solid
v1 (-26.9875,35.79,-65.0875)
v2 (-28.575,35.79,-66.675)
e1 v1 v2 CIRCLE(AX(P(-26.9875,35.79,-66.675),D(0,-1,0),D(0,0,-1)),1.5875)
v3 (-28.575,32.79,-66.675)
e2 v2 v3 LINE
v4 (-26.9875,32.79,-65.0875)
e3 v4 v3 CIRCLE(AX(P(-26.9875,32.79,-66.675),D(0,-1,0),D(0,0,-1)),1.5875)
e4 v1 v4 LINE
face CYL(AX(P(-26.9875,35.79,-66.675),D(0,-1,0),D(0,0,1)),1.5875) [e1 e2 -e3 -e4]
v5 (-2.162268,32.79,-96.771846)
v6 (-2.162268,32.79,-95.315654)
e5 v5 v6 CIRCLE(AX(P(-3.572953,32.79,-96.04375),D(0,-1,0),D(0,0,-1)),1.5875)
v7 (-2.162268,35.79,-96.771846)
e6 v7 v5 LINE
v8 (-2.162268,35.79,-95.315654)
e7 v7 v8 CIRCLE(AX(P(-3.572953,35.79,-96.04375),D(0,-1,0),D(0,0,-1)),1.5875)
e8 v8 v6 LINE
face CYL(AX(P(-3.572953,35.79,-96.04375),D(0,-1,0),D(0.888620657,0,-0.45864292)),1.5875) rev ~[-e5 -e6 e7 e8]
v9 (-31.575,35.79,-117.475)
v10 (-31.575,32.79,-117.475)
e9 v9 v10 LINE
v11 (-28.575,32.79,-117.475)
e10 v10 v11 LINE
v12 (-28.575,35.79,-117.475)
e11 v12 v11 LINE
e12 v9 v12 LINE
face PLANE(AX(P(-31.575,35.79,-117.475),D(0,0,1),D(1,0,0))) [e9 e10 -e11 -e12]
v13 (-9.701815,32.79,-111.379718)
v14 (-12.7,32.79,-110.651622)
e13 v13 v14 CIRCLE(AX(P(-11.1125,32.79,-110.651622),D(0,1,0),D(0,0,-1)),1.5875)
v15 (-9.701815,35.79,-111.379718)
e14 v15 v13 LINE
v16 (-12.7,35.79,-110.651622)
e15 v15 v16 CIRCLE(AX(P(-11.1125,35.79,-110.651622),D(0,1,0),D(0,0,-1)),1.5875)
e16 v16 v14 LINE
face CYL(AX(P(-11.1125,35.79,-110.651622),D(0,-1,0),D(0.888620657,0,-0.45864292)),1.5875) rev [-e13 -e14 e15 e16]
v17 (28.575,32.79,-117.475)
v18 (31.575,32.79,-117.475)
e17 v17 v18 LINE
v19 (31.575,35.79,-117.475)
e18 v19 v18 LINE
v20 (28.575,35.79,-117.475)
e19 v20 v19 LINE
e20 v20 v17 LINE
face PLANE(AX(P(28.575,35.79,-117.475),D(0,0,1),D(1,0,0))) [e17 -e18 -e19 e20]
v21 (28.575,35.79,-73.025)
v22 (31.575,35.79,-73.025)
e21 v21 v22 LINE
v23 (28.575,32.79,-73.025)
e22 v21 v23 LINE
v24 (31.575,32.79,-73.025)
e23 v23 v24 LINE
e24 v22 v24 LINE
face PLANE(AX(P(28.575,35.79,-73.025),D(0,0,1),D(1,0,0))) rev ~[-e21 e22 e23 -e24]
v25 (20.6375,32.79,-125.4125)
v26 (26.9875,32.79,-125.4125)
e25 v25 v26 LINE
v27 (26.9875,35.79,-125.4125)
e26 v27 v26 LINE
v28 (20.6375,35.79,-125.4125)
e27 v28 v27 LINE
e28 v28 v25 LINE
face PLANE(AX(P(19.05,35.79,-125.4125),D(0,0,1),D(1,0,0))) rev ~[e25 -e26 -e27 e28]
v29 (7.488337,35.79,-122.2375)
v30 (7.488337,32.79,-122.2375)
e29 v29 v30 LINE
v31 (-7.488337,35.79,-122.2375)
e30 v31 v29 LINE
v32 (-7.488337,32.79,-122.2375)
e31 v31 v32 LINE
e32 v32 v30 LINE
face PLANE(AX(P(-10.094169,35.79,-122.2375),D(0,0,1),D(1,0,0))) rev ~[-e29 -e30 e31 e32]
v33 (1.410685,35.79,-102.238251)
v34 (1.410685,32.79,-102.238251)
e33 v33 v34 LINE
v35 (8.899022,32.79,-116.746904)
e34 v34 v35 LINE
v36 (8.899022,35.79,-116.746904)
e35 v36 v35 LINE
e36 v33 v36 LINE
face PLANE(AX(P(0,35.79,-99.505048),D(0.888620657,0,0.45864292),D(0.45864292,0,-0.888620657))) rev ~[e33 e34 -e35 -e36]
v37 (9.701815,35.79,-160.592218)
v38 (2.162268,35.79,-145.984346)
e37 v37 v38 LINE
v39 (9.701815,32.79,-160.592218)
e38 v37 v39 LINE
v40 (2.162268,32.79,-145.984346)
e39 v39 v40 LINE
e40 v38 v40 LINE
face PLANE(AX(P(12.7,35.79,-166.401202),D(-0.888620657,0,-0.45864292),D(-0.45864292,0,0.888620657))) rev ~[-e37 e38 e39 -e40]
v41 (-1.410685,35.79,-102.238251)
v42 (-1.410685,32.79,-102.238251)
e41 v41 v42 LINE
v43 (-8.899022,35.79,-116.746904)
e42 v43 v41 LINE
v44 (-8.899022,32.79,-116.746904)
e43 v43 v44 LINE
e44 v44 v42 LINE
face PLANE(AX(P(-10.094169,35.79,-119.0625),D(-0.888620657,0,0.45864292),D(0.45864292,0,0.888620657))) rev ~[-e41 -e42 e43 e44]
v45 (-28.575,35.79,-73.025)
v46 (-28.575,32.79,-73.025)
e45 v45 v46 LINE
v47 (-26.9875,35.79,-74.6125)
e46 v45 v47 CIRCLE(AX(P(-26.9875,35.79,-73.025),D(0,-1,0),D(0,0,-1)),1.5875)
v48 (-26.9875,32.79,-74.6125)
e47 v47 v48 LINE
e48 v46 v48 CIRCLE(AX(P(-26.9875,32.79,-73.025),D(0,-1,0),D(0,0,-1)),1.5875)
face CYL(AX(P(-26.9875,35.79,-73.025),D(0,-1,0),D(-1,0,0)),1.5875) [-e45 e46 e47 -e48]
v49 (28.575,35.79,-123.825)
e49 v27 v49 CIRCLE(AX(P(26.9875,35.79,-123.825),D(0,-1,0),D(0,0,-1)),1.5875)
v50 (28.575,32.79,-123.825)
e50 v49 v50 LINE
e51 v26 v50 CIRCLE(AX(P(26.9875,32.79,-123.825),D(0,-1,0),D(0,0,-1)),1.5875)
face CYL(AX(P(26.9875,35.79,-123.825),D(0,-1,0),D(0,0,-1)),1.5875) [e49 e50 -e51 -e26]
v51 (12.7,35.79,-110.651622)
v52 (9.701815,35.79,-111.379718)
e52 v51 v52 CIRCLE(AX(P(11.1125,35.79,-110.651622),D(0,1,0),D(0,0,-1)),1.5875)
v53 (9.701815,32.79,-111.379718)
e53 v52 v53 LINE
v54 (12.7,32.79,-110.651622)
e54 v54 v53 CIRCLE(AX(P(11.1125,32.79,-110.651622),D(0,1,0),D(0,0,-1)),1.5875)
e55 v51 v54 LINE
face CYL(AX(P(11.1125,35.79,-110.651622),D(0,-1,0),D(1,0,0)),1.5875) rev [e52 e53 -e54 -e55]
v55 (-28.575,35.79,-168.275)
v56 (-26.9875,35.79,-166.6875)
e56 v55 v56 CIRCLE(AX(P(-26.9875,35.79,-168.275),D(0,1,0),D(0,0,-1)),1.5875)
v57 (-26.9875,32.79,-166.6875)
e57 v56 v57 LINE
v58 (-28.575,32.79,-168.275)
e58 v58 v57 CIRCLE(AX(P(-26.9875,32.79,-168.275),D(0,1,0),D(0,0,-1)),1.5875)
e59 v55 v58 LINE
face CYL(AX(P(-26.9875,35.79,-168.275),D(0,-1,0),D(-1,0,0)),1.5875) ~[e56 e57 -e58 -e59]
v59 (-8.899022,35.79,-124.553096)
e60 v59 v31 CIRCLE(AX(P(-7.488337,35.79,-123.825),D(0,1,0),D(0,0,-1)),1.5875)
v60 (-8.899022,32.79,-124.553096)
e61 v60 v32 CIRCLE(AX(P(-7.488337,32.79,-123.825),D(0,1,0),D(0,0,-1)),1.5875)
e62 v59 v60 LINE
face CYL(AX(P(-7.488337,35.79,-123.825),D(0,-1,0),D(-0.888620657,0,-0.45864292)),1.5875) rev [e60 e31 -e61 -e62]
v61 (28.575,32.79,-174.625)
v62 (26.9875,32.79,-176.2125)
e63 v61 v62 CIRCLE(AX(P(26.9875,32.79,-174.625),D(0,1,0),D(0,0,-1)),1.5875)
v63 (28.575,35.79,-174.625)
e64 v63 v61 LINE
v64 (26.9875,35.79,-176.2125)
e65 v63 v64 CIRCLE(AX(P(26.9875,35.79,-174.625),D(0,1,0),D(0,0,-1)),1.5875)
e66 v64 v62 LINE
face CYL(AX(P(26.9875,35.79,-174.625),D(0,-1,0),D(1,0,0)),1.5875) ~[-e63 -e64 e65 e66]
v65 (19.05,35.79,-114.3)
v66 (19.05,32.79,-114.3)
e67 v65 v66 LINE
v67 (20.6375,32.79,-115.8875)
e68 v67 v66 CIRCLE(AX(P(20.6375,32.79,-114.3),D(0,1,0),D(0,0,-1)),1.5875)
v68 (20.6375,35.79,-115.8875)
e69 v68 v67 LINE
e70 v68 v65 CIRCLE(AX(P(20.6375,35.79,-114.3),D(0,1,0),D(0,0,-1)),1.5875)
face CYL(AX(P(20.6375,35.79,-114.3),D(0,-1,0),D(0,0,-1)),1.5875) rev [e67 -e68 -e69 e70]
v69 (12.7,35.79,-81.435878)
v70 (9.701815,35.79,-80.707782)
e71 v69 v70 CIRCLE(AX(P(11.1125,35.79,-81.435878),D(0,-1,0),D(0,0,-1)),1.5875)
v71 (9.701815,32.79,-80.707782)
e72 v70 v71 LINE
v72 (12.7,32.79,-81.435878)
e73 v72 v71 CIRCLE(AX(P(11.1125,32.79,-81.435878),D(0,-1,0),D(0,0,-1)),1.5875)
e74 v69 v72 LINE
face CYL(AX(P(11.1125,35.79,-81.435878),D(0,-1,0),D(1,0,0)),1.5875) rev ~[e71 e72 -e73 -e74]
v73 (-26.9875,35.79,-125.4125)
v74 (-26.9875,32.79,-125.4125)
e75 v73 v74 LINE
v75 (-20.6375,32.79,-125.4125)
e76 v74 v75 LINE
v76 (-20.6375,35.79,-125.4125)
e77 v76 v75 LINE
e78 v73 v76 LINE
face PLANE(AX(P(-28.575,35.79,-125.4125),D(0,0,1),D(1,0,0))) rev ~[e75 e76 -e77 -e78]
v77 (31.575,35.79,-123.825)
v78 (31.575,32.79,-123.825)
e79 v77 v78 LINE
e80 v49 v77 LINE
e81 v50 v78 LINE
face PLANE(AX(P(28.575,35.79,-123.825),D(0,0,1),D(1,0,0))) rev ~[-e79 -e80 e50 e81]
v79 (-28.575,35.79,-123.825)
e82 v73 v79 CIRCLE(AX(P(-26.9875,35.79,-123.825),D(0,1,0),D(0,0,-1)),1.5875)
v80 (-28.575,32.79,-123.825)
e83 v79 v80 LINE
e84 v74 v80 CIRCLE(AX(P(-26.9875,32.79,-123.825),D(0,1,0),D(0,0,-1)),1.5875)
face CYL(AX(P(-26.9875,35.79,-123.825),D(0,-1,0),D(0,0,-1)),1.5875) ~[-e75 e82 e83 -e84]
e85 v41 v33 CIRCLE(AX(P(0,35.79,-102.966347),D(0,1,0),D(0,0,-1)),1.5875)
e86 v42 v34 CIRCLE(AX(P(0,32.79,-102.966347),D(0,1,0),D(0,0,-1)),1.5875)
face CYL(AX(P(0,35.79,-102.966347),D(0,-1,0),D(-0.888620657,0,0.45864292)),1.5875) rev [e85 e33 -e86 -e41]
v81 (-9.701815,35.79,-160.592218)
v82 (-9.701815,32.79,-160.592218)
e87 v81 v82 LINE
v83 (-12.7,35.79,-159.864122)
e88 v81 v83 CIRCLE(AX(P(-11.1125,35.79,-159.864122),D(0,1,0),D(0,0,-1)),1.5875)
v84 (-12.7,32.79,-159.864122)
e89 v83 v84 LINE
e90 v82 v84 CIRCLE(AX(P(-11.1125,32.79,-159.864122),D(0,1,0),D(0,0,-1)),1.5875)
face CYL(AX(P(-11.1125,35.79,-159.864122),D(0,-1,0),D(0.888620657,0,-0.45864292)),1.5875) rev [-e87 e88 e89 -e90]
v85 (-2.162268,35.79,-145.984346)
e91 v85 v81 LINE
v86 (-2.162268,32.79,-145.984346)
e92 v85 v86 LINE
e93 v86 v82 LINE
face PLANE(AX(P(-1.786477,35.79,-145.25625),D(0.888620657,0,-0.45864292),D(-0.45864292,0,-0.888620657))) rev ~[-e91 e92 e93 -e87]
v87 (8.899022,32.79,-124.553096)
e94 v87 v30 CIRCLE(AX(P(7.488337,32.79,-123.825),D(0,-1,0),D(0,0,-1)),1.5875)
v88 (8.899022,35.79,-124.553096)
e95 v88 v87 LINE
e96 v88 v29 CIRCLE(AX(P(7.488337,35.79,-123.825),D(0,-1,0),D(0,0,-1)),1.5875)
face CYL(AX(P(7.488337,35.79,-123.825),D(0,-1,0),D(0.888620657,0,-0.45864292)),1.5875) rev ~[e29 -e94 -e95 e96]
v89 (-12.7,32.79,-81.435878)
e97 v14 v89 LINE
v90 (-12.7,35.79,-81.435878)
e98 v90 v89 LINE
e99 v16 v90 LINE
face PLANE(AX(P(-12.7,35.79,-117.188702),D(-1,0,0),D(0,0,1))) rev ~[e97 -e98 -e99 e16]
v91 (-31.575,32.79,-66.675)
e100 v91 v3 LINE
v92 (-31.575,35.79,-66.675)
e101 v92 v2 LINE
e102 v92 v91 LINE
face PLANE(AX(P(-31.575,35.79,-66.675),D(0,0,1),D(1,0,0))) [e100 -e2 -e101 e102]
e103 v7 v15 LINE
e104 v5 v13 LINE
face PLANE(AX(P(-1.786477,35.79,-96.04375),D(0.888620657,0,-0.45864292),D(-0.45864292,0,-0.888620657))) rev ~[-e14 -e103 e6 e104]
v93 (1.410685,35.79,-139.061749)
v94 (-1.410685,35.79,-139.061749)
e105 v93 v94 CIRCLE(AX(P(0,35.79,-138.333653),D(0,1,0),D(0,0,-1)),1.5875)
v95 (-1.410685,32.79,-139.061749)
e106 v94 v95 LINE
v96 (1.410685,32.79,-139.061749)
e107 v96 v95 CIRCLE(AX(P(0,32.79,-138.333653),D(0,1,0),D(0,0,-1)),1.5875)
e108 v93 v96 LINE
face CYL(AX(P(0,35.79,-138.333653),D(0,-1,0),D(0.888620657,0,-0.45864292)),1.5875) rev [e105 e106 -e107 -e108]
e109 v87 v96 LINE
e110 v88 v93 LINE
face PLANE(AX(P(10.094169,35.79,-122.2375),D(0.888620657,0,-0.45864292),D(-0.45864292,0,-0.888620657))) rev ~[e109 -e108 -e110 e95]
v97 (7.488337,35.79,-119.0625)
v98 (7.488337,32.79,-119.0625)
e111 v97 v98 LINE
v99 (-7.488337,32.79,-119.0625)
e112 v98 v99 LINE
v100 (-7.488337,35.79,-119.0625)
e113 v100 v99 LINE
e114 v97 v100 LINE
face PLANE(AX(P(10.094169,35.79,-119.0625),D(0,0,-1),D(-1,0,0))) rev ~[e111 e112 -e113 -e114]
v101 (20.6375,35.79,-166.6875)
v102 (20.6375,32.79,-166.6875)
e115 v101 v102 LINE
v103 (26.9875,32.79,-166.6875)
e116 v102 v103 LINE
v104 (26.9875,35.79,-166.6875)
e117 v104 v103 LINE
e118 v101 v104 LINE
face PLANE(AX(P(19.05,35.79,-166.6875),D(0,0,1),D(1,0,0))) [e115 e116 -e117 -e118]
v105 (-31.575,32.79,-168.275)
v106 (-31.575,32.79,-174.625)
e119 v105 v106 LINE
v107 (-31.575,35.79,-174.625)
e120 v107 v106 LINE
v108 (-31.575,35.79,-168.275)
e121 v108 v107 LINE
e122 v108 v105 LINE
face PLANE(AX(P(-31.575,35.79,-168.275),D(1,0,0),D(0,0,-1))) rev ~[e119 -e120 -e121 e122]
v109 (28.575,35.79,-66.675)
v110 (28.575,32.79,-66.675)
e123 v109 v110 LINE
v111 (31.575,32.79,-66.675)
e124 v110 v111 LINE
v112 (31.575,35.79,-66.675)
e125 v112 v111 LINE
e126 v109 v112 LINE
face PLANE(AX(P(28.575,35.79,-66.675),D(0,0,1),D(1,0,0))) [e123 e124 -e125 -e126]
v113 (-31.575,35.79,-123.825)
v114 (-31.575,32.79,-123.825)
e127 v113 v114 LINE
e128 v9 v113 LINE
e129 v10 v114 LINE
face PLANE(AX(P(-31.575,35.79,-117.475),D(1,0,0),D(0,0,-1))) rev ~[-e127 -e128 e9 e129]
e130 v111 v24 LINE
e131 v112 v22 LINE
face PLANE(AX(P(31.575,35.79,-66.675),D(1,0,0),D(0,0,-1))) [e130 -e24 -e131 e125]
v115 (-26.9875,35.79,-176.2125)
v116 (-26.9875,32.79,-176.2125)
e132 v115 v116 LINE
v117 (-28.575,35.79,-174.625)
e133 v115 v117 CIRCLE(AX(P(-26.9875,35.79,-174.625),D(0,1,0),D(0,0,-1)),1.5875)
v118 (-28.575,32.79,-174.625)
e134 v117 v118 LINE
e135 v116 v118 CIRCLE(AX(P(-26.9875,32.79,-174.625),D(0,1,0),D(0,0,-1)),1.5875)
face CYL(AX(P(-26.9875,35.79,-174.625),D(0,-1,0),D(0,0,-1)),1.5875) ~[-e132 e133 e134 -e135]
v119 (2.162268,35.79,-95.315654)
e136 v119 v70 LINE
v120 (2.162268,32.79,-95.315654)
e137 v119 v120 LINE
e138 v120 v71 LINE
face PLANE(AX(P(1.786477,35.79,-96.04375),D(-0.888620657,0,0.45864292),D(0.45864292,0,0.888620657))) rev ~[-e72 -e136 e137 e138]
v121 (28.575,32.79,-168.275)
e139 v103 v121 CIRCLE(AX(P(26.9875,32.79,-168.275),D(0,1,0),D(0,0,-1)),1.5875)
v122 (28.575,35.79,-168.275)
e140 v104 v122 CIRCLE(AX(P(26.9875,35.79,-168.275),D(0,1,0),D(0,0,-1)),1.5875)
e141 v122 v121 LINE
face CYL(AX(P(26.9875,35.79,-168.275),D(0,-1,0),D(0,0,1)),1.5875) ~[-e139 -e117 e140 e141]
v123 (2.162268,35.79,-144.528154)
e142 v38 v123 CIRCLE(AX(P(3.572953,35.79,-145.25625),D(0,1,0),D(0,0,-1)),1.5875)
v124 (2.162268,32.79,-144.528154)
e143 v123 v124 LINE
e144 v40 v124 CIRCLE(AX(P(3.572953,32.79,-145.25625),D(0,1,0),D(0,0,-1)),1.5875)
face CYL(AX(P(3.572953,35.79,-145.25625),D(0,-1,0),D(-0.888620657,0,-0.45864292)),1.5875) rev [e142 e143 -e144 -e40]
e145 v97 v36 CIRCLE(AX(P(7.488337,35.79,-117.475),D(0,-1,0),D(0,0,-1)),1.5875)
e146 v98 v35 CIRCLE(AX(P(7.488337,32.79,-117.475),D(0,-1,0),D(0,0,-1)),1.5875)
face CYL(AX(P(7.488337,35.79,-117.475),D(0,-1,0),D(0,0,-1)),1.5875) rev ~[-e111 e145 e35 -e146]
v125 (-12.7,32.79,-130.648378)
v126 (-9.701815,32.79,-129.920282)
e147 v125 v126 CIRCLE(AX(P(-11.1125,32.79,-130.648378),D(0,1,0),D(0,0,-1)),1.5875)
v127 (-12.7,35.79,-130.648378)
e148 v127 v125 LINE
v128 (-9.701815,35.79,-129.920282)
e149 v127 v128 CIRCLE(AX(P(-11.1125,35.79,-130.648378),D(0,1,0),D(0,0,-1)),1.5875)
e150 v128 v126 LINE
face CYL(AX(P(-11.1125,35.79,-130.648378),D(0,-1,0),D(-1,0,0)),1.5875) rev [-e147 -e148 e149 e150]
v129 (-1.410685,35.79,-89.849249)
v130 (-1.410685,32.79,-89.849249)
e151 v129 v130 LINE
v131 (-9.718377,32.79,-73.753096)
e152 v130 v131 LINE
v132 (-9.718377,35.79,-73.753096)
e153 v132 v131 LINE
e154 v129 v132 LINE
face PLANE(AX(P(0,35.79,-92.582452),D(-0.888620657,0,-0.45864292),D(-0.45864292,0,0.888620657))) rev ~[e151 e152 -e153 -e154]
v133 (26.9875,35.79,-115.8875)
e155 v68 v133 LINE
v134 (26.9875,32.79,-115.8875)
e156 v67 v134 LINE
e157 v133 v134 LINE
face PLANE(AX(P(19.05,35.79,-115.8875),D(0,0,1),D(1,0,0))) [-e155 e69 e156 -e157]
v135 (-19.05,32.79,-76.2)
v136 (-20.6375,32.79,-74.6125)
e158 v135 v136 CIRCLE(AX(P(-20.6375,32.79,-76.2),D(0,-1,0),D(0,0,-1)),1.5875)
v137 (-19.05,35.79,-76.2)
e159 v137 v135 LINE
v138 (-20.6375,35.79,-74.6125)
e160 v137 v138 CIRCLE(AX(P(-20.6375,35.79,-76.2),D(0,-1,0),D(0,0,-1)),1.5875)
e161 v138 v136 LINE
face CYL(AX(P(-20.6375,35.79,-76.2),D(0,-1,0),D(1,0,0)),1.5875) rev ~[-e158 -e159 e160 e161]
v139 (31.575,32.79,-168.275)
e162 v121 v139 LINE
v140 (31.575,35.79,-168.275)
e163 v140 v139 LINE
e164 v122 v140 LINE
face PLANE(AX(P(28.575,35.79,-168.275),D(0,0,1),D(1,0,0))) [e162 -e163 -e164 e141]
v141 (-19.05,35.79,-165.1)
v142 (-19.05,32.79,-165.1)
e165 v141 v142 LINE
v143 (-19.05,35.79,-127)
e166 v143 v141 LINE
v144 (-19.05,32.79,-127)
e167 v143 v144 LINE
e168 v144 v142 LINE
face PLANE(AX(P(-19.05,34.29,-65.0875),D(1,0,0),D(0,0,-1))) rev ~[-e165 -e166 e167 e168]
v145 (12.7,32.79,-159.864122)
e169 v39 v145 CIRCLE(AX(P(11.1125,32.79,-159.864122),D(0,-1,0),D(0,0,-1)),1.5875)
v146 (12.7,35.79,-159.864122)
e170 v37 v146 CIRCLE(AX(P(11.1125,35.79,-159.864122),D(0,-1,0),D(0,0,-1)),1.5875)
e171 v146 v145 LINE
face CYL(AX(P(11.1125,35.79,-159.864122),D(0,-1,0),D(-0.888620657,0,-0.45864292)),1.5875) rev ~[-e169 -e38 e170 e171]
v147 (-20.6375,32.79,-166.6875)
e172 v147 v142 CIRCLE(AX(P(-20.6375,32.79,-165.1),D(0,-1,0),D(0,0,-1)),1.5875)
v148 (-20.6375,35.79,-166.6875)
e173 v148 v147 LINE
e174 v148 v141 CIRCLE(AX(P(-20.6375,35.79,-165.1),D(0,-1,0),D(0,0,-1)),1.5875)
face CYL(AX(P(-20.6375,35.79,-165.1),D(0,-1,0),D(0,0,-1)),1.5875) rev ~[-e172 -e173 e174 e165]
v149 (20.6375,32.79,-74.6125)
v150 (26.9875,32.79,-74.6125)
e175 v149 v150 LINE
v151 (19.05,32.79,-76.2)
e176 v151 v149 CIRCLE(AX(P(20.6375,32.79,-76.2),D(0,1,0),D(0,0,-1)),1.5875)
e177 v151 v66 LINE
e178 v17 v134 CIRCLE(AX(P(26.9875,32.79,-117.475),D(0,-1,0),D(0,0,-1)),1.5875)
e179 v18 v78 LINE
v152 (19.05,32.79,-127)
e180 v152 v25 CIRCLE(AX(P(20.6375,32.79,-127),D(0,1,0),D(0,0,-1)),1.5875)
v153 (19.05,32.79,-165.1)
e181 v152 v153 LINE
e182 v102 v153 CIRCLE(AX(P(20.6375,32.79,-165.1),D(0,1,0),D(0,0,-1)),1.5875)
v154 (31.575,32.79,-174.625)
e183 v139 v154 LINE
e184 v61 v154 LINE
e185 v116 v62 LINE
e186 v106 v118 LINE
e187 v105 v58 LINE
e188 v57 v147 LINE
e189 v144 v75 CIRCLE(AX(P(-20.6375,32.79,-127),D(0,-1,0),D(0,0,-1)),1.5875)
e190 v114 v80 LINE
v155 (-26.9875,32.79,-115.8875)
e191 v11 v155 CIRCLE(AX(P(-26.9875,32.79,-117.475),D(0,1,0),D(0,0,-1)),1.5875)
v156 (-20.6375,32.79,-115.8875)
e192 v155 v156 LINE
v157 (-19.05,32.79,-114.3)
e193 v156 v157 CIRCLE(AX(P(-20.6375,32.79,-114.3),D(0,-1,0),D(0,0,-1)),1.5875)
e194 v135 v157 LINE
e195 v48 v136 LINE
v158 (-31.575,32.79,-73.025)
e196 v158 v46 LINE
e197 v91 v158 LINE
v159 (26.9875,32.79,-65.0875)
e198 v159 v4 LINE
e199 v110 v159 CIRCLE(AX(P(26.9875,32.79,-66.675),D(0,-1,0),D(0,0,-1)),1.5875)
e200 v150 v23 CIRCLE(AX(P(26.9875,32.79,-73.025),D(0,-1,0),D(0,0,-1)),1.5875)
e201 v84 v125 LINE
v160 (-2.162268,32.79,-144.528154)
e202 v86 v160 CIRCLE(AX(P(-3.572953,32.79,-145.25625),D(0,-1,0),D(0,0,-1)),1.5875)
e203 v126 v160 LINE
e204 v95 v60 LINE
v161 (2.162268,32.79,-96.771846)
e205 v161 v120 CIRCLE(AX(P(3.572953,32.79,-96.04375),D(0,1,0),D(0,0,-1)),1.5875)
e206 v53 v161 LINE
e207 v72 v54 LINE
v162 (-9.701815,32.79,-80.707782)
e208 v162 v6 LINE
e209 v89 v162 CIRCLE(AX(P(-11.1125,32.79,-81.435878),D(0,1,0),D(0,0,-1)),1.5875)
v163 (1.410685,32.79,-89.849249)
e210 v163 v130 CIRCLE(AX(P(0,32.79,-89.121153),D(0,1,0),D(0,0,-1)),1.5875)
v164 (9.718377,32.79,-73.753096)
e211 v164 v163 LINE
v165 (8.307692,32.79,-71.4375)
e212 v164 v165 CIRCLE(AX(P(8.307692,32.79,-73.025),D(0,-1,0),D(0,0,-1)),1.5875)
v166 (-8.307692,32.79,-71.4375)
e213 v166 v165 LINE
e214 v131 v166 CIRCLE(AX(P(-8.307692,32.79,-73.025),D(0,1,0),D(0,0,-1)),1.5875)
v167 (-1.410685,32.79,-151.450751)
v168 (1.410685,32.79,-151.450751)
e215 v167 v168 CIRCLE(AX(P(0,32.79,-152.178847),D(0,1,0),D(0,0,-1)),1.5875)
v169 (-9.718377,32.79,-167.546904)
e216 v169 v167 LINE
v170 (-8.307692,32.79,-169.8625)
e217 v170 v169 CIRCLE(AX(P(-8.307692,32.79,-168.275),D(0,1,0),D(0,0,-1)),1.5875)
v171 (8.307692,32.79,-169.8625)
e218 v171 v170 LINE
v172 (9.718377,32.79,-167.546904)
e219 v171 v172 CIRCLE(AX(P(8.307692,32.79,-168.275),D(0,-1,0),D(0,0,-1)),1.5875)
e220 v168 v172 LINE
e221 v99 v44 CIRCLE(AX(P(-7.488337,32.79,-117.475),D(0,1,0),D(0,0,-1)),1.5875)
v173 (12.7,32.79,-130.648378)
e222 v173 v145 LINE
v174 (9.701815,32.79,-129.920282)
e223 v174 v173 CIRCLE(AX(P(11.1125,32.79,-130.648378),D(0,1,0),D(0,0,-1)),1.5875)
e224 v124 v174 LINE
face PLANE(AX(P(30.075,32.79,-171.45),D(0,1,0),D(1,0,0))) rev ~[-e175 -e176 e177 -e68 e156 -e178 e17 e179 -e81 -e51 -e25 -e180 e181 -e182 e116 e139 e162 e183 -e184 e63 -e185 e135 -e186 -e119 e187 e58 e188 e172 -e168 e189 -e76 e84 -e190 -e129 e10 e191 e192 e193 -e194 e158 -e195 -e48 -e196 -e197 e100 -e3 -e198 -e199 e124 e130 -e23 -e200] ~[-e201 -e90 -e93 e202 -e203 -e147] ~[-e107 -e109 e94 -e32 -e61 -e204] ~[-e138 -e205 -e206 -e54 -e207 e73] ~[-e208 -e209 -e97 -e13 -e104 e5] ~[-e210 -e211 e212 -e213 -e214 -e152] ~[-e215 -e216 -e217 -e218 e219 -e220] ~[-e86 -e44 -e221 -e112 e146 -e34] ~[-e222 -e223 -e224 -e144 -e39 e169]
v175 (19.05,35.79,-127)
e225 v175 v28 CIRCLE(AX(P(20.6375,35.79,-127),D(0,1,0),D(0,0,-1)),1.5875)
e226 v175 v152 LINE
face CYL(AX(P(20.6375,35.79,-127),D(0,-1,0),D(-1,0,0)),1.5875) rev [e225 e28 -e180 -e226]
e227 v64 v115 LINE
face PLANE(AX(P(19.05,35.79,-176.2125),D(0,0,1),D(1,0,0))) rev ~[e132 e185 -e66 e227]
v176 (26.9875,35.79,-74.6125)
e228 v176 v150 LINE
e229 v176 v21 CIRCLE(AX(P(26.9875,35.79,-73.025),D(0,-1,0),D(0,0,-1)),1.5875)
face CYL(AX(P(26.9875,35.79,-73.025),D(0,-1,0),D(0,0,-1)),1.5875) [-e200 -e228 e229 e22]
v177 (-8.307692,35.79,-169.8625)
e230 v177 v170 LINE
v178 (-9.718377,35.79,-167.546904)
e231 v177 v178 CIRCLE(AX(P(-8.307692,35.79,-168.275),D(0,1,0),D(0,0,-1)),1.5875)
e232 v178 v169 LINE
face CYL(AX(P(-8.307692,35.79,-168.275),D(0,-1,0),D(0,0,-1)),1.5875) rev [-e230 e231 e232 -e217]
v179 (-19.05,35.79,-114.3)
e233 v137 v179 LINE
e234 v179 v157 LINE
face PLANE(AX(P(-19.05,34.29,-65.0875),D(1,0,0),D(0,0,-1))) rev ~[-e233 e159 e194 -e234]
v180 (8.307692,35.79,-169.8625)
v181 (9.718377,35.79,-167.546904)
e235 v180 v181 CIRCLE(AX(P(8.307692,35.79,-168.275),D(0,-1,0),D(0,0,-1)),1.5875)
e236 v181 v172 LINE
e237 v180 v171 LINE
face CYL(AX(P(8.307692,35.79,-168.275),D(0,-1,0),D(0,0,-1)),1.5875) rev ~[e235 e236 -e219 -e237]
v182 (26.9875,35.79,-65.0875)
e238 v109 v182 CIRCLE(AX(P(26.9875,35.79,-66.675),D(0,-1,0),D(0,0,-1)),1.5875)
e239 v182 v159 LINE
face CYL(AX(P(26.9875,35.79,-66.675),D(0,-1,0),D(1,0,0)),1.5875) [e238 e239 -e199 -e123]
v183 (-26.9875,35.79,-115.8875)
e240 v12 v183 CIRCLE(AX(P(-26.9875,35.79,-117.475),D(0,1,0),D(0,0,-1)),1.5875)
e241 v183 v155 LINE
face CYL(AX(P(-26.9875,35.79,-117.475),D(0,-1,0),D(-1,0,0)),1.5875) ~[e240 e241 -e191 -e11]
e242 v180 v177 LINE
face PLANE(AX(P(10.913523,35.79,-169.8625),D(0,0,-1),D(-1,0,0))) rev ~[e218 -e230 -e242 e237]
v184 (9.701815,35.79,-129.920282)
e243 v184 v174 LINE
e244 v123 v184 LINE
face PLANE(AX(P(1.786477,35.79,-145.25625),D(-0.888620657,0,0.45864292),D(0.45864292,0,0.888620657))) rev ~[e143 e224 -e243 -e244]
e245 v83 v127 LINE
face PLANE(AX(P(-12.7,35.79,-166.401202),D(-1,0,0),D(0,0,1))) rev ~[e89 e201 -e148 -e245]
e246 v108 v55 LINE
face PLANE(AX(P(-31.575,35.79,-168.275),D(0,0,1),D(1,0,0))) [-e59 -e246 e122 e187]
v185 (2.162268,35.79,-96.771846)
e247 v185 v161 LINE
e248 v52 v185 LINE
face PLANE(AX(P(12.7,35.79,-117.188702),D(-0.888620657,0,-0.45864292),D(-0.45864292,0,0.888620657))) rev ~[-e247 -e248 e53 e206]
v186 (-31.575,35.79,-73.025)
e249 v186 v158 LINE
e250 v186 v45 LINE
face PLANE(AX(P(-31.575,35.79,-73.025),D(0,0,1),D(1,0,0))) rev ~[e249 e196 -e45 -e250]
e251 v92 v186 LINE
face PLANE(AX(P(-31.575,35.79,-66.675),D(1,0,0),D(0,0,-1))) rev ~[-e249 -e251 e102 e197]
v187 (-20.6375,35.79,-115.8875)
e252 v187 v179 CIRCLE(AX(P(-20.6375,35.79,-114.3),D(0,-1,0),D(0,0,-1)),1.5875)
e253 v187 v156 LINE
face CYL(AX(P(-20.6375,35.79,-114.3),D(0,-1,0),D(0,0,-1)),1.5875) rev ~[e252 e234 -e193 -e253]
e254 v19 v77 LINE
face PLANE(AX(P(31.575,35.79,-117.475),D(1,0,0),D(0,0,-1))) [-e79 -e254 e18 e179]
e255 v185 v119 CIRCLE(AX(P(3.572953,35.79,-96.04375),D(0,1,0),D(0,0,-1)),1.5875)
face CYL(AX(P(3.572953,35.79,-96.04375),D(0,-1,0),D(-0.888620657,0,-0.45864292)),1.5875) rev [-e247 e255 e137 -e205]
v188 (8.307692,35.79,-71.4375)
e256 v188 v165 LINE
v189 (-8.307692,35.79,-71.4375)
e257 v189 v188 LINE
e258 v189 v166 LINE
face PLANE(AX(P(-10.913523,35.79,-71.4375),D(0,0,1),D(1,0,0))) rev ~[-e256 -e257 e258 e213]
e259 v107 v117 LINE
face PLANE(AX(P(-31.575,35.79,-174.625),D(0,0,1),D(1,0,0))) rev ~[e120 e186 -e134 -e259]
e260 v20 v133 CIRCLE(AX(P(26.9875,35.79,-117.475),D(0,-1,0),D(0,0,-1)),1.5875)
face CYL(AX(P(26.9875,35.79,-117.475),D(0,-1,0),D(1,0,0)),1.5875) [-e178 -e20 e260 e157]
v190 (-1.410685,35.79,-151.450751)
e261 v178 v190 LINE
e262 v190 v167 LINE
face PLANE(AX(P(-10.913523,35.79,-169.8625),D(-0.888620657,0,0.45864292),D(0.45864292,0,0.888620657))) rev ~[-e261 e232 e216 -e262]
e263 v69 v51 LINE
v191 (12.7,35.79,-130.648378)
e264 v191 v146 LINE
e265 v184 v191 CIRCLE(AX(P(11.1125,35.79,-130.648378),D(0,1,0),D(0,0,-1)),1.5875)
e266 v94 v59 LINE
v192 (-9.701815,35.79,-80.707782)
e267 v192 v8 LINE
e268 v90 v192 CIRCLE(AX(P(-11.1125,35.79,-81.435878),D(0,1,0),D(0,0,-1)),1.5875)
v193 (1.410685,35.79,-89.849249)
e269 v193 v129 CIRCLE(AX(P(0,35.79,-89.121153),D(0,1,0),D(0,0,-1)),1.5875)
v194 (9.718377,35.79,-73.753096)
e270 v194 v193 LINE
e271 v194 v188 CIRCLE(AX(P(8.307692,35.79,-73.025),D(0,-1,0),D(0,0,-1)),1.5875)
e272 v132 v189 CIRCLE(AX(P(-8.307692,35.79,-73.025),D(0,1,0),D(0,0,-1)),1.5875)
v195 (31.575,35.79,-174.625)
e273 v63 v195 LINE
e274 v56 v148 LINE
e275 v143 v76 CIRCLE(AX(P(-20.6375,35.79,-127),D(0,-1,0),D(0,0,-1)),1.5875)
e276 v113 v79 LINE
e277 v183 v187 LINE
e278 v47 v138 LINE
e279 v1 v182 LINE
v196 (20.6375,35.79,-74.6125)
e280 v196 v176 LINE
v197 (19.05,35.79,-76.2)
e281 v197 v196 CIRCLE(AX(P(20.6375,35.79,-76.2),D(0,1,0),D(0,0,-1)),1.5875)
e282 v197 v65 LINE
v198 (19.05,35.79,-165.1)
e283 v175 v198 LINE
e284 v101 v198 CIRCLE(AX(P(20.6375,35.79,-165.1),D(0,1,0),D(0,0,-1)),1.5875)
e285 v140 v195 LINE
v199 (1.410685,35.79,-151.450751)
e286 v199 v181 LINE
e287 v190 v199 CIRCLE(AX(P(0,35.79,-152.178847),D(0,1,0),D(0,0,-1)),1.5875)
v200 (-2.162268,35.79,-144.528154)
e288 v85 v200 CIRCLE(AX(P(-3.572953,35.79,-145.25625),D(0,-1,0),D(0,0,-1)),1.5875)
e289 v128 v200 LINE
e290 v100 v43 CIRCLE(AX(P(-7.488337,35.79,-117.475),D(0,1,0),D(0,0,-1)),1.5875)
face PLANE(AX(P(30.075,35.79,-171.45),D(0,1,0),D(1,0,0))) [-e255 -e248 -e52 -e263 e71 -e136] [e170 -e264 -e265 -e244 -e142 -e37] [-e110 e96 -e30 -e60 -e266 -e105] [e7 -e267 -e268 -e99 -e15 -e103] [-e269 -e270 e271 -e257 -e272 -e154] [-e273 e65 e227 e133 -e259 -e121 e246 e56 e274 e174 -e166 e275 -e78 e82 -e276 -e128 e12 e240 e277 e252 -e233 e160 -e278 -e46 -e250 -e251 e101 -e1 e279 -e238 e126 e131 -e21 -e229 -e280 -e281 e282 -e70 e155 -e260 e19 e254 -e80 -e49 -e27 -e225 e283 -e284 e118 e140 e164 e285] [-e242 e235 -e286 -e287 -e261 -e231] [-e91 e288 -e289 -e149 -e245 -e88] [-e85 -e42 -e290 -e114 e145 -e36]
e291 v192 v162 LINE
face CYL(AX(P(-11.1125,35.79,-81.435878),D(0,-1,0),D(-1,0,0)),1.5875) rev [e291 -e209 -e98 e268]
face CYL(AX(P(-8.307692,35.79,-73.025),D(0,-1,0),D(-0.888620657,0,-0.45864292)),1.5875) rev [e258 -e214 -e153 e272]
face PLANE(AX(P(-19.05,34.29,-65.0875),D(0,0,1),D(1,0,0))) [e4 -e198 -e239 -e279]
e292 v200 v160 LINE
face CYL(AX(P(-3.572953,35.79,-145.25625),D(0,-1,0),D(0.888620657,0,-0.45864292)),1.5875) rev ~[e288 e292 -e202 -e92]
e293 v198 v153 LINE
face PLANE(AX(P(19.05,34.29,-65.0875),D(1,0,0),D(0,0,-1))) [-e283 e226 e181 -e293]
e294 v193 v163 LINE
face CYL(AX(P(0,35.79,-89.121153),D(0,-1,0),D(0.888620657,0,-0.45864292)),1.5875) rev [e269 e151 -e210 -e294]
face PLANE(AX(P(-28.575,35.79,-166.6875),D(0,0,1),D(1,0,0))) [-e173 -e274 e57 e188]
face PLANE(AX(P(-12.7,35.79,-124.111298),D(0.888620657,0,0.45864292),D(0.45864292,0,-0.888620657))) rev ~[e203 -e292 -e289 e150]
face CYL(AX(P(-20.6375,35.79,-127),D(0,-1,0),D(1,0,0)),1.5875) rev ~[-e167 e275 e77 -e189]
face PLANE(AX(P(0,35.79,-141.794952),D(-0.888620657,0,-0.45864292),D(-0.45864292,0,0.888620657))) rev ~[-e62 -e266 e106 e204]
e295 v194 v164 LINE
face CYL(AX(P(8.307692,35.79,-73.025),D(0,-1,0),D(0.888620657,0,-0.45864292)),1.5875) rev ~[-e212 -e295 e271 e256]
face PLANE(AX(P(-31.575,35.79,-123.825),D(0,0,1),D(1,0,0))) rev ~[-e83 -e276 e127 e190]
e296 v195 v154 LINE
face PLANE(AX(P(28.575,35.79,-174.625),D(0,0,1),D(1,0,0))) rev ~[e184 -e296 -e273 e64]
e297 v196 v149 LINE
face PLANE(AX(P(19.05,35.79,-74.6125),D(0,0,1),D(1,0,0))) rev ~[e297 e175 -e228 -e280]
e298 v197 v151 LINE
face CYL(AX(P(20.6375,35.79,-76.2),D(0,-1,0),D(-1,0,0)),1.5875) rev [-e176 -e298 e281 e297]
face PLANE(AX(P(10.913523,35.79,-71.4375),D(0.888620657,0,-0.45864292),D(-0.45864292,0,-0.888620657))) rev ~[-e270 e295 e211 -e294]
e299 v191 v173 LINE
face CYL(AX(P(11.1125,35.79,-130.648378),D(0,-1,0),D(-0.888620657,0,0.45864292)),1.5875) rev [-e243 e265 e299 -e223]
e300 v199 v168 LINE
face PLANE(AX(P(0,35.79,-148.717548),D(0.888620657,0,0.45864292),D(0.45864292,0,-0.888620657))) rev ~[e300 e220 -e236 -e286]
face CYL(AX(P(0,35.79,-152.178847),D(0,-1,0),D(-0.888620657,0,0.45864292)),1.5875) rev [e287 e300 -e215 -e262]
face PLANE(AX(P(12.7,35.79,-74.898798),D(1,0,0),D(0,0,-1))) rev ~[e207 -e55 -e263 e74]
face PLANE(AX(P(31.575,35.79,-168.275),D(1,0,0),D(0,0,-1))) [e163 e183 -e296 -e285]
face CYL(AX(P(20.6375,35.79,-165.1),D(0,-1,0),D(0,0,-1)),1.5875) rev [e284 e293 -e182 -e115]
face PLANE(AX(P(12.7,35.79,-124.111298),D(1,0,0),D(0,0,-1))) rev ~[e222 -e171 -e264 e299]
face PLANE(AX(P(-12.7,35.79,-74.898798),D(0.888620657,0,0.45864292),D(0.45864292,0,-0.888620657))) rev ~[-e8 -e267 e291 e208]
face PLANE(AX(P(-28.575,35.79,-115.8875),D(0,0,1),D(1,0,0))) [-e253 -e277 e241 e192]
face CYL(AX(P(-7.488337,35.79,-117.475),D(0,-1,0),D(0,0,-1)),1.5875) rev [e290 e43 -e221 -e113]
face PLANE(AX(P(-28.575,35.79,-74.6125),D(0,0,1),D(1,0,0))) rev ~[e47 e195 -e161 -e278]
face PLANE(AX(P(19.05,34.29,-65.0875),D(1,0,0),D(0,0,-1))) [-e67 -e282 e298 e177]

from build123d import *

# Parameters (mm, degrees)
SKETCH1_W           = 38.1
SKETCH1_H           = 111.125
BOSS_EXTRUDE1_DEPTH = 1.5
SKETCH2_W           = 9.525
SKETCH2_H           = 9.525
BOSS_EXTRUDE2_DEPTH = 3
CUT_EXTRUDE1_DEPTH  = 3
FILLET1_R           = 1.5875
SKETCH5_W           = 3
SKETCH5_H           = 6.35
BOSS_EXTRUDE3_DEPTH = 3


with BuildPart() as part:
    # Sketch1 → Boss-Extrude1 (new, symmetric)
    with BuildSketch(Plane(origin=(0, 34.29, 0), x_dir=(1, 0, 0), z_dir=(0, 1, 0))):
        with Locations((0, 120.65)):
            Rectangle(SKETCH1_W, SKETCH1_H)
    extrude(amount=BOSS_EXTRUDE1_DEPTH, both=True)

    # Sketch2 → Boss-Extrude2 (add)
    with BuildSketch(Plane(origin=(0, 35.79, 0), x_dir=(1, 0, 0), z_dir=(0, 1, 0))):
        with Locations((23.8125, 171.45)):
            Rectangle(SKETCH2_W, SKETCH2_H)
        with Locations((-23.8125, 171.45)):
            Rectangle(SKETCH2_W, SKETCH2_H)
        with Locations((23.8125, 120.65)):
            Rectangle(SKETCH2_W, SKETCH2_H)
        with Locations((-23.8125, 120.65)):
            Rectangle(SKETCH2_W, SKETCH2_H)
        with Locations((23.8125, 69.85)):
            Rectangle(SKETCH2_W, SKETCH2_H)
        with Locations((-23.8125, 69.85)):
            Rectangle(SKETCH2_W, SKETCH2_H)
    extrude(amount=-BOSS_EXTRUDE2_DEPTH)

    # Sketch4 → Cut-Extrude1 (cut)
    with BuildSketch(Plane(origin=(0, 35.79, 0), x_dir=(1, 0, 0), z_dir=(0, 1, 0))):
        Polygon((10.913523411, 169.8625), (-10.913523411, 169.8625), (0, 148.71754839), align=None)
        Polygon((-1.786476589, 145.25625), (-12.7, 166.40120161), (-12.7, 124.11129839), align=None)
        Polygon((12.7, 166.40120161), (1.786476589, 145.25625), (12.7, 124.11129839), align=None)
        Polygon((10.094168573, 122.2375), (0, 141.79495161), (-10.094168573, 122.2375), align=None)
        Polygon((-1.786476589, 96.04375), (-12.7, 117.18870161), (-12.7, 74.89879839), align=None)
        Polygon((10.094168573, 119.0625), (-10.094168573, 119.0625), (0, 99.50504839), align=None)
        Polygon((12.7, 74.89879839), (12.7, 117.18870161), (1.786476589, 96.04375), align=None)
        Polygon((10.913523411, 71.4375), (0, 92.58245161), (-10.913523411, 71.4375), align=None)
    extrude(amount=-CUT_EXTRUDE1_DEPTH, mode=Mode.SUBTRACT)

    # Fillet1
    fillet1_edges = [part.edges().sort_by_distance(p)[0] for p in [
        (10.094168573, 34.29, -122.2375),
        (-10.094168573, 34.29, -122.2375),
        (0, 34.29, -141.79495161),
        (10.094168573, 34.29, -119.0625),
        (0, 34.29, -99.50504839),
        (-10.094168573, 34.29, -119.0625),
        (10.913523411, 34.29, -71.4375),
        (-10.913523411, 34.29, -71.4375),
        (0, 34.29, -92.58245161),
        (-1.786476589, 34.29, -96.04375),
        (-12.7, 34.29, -74.89879839),
        (-12.7, 34.29, -117.18870161),
        (-1.786476589, 34.29, -145.25625),
        (-12.7, 34.29, -124.11129839),
        (-12.7, 34.29, -166.40120161),
        (12.7, 34.29, -124.11129839),
        (1.786476589, 34.29, -145.25625),
        (12.7, 34.29, -166.40120161),
        (0, 34.29, -148.71754839),
        (-10.913523411, 34.29, -169.8625),
        (10.913523411, 34.29, -169.8625),
        (12.7, 34.29, -117.18870161),
        (12.7, 34.29, -74.89879839),
        (1.786476589, 34.29, -96.04375),
        (28.575, 34.29, -65.0875),
        (28.575, 34.29, -74.6125),
        (19.05, 34.29, -74.6125),
        (-19.05, 34.29, -115.8875),
        (-19.05, 34.29, -125.4125),
        (-28.575, 34.29, -125.4125),
        (-28.575, 34.29, -115.8875),
        (28.575, 34.29, -115.8875),
        (28.575, 34.29, -125.4125),
        (19.05, 34.29, -125.4125),
        (19.05, 34.29, -115.8875),
        (-19.05, 34.29, -166.6875),
        (-28.575, 34.29, -176.2125),
        (-28.575, 34.29, -166.6875),
        (-19.05, 34.29, -74.6125),
        (-28.575, 34.29, -74.6125),
        (-28.575, 34.29, -65.0875),
        (28.575, 34.29, -166.6875),
        (28.575, 34.29, -176.2125),
        (19.05, 34.29, -166.6875),
    ]]
    fillet(fillet1_edges, radius=FILLET1_R)

    # Sketch5 → Boss-Extrude3 (add)
    with BuildSketch(Plane(origin=(0, 35.79, 0), x_dir=(1, 0, 0), z_dir=(0, 1, 0))):
        with Locations((30.075, 171.45)):
            Rectangle(SKETCH5_W, SKETCH5_H)
        with Locations((-30.075, 171.45)):
            Rectangle(SKETCH5_W, SKETCH5_H)
        with Locations((30.075, 120.65)):
            Rectangle(SKETCH5_W, SKETCH5_H)
        with Locations((-30.075, 120.65)):
            Rectangle(SKETCH5_W, SKETCH5_H)
        with Locations((30.075, 69.85)):
            Rectangle(SKETCH5_W, SKETCH5_H)
        with Locations((-30.075, 69.85)):
            Rectangle(SKETCH5_W, SKETCH5_H)
    extrude(amount=-BOSS_EXTRUDE3_DEPTH)


solid = part.part
